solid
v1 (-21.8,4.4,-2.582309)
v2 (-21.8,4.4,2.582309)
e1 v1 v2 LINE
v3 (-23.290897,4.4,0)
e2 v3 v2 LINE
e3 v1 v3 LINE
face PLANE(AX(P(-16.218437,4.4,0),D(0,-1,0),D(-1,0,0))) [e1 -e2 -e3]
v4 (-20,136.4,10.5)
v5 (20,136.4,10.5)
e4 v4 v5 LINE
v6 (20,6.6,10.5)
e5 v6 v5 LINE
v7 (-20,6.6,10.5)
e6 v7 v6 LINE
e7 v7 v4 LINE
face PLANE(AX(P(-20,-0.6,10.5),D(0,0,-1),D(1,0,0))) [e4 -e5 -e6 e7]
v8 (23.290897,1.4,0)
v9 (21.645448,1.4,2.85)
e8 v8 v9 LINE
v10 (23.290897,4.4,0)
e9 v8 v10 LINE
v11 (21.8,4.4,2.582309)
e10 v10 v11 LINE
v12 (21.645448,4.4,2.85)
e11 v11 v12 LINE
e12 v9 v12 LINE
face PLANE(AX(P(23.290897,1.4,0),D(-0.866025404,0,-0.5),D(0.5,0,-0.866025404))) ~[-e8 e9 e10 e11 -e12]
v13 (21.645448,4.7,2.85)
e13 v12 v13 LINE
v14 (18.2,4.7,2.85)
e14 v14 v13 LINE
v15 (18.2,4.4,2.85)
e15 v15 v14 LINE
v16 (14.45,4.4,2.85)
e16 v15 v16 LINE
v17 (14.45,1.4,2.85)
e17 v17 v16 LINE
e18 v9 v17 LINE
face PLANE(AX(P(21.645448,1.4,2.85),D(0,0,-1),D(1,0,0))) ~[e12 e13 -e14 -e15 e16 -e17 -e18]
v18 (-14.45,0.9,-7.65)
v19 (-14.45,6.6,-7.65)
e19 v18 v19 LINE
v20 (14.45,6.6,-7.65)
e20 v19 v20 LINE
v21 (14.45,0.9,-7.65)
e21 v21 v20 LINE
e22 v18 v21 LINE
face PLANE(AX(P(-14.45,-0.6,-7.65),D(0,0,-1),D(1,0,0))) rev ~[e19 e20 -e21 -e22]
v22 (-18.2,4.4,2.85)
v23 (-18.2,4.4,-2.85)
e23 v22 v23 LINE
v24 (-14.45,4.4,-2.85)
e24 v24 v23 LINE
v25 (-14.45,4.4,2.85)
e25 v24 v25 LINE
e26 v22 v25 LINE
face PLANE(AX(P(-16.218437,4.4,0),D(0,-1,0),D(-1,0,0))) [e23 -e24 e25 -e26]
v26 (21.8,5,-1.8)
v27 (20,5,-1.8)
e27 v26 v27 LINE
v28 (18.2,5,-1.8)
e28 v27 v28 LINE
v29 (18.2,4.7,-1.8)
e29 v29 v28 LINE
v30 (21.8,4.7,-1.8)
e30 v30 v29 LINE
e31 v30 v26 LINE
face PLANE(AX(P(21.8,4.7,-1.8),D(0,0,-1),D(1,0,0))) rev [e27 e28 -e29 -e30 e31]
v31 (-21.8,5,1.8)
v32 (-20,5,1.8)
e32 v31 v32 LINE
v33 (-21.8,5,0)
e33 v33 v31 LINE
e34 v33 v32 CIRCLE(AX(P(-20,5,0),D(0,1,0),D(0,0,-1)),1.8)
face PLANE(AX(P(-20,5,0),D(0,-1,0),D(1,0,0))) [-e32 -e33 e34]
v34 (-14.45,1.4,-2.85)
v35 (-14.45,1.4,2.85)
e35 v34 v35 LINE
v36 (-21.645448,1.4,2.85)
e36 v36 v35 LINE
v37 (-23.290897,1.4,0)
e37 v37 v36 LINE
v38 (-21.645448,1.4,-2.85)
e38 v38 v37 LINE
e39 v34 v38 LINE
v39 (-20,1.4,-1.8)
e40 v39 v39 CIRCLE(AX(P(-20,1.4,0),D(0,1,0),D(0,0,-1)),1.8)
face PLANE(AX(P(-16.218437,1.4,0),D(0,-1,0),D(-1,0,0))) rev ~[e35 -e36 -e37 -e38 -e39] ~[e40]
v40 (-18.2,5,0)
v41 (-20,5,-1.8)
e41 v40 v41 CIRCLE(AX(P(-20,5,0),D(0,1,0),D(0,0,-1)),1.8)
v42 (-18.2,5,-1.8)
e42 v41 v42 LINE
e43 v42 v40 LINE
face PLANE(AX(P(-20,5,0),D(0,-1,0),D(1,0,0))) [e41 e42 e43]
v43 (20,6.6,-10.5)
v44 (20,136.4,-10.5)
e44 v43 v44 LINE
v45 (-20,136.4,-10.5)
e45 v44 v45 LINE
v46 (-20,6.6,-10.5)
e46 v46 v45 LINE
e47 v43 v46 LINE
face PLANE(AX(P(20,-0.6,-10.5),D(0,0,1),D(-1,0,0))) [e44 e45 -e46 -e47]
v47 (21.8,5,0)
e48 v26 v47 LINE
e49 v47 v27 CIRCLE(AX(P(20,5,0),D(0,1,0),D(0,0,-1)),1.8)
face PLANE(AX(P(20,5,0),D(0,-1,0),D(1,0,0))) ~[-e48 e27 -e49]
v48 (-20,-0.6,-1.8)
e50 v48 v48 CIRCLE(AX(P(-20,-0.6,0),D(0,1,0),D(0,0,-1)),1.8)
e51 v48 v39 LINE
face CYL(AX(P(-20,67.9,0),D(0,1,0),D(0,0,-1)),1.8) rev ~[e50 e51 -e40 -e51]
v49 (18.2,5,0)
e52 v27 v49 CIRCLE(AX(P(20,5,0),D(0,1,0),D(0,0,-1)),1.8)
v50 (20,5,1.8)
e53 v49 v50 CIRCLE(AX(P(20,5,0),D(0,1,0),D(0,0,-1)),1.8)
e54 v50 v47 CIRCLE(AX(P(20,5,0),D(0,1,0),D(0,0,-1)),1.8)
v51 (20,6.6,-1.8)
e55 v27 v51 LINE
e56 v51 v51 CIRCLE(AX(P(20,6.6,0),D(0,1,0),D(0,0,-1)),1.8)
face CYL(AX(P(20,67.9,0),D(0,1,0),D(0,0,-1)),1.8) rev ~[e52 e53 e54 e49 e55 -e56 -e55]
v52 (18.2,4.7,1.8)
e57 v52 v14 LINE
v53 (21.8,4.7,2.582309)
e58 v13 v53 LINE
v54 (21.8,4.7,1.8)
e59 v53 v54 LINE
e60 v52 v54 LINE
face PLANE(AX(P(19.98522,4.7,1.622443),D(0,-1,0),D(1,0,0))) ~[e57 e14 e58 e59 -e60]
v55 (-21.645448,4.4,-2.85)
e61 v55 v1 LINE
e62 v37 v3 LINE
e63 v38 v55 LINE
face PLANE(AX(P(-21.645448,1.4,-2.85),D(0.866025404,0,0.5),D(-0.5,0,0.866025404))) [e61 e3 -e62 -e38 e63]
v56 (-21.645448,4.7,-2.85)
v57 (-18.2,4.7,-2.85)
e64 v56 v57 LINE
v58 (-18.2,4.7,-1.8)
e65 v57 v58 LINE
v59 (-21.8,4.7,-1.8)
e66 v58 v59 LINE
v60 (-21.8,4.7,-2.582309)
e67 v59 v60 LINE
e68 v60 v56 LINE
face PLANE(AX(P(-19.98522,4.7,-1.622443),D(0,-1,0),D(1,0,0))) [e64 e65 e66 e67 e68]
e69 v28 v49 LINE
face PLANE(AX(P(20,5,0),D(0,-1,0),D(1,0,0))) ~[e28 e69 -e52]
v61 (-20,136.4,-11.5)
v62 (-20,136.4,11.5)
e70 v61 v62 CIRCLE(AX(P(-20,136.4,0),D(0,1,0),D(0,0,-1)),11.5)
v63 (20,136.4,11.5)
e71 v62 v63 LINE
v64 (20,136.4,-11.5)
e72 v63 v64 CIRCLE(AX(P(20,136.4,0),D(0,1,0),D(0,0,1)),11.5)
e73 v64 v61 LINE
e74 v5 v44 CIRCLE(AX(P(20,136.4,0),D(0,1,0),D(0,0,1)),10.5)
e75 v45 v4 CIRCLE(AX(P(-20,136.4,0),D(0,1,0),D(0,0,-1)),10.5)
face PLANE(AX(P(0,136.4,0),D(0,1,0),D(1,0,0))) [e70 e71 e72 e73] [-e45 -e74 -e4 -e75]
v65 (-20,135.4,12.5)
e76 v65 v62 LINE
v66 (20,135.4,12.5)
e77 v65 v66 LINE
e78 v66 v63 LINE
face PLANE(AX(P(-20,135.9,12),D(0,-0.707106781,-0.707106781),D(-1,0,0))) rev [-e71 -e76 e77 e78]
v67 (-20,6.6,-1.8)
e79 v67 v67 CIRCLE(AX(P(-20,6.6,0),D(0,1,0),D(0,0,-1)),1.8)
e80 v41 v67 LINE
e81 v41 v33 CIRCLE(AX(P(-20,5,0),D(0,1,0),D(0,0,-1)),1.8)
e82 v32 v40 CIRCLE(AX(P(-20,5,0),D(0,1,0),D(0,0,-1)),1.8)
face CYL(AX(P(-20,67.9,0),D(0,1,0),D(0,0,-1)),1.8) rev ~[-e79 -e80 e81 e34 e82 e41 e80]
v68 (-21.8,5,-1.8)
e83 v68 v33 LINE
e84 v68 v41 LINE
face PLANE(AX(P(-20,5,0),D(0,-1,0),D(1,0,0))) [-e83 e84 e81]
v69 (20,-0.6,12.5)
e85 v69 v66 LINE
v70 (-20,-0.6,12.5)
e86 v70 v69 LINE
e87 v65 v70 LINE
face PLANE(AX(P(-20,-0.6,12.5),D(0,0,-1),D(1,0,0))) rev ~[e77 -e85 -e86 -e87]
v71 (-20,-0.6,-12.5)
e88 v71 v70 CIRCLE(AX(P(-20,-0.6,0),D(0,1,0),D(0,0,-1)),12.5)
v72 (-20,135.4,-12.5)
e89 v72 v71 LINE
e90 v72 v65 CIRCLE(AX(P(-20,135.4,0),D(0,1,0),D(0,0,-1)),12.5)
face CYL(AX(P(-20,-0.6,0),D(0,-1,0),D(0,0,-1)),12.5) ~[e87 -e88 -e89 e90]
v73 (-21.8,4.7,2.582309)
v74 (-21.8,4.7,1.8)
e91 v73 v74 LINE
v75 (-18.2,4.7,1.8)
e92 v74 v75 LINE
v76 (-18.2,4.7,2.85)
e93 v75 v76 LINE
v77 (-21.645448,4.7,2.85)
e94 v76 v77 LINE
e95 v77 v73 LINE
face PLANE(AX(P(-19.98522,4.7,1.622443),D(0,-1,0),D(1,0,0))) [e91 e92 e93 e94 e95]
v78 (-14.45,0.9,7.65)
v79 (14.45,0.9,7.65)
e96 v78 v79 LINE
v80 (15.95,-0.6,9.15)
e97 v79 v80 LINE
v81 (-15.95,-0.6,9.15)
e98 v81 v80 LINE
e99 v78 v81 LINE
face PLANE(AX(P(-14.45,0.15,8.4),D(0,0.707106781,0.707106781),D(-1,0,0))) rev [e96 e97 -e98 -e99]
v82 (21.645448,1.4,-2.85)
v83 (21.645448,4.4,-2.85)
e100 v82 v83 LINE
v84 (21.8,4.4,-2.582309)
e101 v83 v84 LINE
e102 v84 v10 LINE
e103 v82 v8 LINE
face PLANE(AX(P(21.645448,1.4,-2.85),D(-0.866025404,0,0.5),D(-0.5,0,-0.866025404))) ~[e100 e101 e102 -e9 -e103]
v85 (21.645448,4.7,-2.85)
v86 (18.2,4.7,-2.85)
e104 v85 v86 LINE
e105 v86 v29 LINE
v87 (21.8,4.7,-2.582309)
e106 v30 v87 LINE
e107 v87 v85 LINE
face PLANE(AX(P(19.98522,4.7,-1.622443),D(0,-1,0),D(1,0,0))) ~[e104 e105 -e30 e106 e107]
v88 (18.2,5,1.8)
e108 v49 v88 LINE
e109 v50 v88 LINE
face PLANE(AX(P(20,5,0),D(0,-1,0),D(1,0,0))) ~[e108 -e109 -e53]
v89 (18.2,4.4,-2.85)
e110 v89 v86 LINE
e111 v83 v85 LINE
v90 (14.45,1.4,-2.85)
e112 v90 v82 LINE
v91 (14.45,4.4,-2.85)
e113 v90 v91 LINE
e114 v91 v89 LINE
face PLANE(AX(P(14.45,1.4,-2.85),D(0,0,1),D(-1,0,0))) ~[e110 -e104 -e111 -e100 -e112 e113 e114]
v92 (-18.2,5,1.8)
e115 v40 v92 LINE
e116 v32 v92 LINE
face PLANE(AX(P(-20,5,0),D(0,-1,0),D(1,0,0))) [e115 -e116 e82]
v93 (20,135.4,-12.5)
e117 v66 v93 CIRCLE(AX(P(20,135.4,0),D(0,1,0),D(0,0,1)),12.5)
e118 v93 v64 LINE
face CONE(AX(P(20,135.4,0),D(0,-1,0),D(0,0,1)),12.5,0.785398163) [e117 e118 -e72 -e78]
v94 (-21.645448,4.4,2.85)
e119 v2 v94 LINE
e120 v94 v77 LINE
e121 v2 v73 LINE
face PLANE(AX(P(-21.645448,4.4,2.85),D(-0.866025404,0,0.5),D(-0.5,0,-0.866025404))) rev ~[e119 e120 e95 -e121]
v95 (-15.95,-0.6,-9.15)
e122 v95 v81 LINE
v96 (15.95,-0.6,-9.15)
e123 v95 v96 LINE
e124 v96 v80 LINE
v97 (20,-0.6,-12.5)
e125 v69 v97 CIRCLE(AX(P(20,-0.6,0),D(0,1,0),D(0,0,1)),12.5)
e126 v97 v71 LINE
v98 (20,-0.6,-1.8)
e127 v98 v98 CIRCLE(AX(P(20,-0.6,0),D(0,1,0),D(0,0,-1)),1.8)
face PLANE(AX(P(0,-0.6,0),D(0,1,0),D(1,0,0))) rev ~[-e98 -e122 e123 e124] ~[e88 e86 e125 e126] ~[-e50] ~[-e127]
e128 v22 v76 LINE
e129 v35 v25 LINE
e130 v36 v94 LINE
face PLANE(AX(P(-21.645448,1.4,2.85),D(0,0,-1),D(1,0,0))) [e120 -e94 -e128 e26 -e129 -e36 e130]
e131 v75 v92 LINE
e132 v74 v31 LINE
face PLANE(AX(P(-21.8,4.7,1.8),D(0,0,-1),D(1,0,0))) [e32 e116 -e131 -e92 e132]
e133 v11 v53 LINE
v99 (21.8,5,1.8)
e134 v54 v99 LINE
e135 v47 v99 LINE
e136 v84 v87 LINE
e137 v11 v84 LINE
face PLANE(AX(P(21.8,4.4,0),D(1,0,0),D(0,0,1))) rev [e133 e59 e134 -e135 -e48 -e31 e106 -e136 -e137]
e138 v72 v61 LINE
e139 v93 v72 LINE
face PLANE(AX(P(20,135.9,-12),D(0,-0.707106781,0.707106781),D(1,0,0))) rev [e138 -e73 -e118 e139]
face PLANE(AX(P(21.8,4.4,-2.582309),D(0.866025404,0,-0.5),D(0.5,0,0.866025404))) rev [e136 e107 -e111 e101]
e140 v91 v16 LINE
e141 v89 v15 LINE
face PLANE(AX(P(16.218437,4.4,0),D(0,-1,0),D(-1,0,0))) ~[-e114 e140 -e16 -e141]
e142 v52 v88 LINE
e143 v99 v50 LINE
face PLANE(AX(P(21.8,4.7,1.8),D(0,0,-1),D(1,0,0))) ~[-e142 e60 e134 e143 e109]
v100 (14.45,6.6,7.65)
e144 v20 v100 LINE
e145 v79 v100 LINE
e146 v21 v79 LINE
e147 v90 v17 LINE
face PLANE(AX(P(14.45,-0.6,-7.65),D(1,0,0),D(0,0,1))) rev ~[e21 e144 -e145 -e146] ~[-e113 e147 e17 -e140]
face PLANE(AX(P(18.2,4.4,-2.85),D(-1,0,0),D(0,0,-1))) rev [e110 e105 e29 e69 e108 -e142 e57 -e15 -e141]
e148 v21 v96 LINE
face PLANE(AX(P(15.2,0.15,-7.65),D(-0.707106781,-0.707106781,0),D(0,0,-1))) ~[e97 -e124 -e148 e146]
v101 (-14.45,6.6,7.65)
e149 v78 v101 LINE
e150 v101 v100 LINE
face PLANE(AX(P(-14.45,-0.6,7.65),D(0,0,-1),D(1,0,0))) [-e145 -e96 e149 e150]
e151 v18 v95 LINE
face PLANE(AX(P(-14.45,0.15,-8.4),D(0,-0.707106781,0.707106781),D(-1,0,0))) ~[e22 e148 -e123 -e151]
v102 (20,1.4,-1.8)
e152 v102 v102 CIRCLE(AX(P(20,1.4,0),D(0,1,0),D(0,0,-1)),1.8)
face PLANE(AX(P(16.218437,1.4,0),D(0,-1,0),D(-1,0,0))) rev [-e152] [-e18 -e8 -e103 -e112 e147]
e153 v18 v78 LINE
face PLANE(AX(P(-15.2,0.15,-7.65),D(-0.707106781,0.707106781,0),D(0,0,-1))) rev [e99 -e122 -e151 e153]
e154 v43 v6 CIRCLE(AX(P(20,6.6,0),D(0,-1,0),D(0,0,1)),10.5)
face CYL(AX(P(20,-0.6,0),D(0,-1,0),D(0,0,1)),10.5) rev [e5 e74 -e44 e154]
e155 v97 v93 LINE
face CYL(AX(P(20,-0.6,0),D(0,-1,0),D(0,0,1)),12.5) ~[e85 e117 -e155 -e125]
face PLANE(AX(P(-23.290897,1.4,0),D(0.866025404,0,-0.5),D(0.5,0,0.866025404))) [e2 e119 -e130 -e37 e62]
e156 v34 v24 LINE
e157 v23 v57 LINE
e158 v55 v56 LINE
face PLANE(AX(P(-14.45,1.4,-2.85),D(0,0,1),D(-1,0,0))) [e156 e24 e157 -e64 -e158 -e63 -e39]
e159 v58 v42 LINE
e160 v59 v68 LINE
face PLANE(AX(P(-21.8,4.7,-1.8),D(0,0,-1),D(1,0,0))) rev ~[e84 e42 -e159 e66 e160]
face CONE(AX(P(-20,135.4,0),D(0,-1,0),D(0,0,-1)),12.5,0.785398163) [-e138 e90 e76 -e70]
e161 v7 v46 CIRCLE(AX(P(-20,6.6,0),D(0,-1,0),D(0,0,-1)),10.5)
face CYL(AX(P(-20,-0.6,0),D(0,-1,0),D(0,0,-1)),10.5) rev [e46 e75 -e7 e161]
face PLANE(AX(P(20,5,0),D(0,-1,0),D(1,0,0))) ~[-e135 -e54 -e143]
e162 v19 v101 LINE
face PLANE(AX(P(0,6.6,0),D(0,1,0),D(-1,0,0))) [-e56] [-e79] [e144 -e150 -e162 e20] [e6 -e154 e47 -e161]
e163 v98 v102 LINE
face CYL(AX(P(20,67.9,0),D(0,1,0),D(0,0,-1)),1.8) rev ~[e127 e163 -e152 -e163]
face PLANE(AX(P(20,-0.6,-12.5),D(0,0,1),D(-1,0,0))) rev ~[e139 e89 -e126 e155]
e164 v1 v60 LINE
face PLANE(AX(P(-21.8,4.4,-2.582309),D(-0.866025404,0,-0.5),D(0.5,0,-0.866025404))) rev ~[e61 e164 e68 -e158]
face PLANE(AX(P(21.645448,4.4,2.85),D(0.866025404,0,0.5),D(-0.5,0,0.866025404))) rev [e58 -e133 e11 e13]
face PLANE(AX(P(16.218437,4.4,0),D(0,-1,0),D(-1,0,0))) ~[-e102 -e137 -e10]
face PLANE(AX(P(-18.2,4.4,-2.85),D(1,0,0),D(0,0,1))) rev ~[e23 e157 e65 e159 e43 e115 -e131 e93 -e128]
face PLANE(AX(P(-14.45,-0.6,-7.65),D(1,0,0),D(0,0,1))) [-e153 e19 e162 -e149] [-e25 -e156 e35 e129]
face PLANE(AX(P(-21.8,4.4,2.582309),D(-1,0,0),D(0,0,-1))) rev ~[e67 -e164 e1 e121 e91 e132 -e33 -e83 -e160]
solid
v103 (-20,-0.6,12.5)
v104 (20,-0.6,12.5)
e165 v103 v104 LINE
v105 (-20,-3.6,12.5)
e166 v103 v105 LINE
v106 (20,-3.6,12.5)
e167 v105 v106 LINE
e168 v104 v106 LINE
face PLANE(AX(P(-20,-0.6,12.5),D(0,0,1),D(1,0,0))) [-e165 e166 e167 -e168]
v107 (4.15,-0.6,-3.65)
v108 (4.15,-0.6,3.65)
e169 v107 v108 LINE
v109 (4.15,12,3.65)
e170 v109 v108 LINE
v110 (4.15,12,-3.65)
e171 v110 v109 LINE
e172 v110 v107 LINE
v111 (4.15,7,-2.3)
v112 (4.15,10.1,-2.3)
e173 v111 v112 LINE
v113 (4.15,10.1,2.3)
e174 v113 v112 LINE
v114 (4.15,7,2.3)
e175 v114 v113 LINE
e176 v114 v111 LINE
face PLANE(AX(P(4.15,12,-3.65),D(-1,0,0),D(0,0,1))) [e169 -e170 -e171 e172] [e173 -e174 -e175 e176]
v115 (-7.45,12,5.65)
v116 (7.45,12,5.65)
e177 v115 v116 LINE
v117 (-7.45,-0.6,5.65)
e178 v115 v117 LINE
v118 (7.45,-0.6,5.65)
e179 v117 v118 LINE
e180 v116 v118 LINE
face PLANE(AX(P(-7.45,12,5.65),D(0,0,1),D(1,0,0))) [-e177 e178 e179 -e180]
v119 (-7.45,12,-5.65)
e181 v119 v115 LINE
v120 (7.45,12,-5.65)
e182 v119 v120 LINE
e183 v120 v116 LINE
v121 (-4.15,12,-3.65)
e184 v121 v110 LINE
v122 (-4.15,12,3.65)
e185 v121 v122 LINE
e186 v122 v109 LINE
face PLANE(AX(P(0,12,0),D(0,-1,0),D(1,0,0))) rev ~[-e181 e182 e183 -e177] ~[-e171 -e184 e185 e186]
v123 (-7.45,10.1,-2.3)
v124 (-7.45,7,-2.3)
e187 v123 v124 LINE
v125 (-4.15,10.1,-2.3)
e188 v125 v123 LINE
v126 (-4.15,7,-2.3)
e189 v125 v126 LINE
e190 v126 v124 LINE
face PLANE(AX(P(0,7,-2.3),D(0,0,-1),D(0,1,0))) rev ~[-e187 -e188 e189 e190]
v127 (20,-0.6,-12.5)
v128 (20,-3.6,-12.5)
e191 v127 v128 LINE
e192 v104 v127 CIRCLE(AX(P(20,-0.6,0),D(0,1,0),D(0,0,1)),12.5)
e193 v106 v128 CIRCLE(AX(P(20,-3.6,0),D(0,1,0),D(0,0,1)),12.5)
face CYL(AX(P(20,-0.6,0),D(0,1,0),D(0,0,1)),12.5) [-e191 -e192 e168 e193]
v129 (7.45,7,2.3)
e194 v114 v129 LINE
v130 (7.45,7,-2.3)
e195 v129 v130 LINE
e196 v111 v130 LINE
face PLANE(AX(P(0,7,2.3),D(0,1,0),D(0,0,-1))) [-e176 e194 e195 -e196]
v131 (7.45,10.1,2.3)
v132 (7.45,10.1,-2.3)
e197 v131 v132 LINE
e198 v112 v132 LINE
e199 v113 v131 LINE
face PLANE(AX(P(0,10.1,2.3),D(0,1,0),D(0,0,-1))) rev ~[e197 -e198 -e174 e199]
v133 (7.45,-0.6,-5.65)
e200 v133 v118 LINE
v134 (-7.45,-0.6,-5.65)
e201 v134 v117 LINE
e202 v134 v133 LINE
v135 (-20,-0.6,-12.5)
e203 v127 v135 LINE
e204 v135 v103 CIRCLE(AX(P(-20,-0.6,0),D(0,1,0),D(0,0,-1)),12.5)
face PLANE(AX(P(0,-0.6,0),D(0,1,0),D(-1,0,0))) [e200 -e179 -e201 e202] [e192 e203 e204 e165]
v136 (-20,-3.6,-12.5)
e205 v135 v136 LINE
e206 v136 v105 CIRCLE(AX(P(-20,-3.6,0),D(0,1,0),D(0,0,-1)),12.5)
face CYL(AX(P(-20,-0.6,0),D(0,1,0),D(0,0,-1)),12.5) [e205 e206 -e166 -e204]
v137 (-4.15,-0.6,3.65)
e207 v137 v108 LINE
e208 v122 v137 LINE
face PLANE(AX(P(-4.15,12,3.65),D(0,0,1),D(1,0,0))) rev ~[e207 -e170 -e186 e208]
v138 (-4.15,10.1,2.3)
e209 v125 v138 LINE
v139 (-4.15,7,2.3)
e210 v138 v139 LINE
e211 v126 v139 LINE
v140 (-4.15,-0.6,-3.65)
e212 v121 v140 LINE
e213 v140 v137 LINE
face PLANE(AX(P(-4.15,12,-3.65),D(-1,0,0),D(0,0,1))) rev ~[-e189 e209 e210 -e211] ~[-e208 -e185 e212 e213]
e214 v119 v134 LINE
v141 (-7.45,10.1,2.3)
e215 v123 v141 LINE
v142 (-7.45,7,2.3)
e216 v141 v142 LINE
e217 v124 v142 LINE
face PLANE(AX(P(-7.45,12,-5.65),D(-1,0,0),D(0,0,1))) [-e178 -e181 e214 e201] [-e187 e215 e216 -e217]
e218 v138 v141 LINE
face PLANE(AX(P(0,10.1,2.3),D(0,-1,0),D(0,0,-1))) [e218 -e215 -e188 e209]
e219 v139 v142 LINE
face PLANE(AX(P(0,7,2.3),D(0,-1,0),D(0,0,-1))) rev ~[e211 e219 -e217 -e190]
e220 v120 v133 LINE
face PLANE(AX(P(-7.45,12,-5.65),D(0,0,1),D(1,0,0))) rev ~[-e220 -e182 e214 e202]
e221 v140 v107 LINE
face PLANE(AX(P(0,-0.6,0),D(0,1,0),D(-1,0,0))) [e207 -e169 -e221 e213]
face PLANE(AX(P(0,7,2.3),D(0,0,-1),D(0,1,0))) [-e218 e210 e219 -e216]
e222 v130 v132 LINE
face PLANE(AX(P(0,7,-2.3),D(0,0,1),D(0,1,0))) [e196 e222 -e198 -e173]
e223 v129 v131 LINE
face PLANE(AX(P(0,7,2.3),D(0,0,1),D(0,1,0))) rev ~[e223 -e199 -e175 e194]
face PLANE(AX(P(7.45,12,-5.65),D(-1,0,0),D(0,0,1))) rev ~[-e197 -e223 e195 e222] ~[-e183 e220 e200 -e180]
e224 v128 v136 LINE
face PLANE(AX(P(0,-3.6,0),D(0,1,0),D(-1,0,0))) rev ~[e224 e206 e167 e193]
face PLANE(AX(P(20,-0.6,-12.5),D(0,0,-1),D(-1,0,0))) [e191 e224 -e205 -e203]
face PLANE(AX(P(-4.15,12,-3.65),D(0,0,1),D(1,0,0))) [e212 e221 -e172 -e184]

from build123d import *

# Parameters (mm, degrees)
SKETCH2_W                     = 14.9
SKETCH2_H                     = 11.3
SKETCH2_W_2                   = 8.3
SKETCH2_H_2                   = 7.3
BOSS_EXTRUDE1_DEPTH           = 12.6
SKETCH4_W                     = 4.6
SKETCH4_H                     = 3.1
CUT_EXTRUDE1_DEPTH            = 8.45
CUT_EXTRUDE1_DEPTH_BACK       = 8.45
BOSS_EXTRUDE2_DEPTH           = 3
BOSS_EXTRUDE3_DEPTH           = 137
SKETCH8_W                     = 28.9
SKETCH8_H                     = 15.3
BOSS_EXTRUDE4_DEPTH           = 7.2
SKETCH11_W                    = 1.8
SKETCH11_H                    = 137
M3_CLEARANCE_HOLE1_AT_2_COUNT = 2
M3_CLEARANCE_HOLE1_AT_2_PITCH = 40
CUT_EXTRUDE2_DEPTH            = 3
CUT_EXTRUDE3_DEPTH            = 0.3
SKETCH15_W                    = 3.6
SKETCH15_H                    = 3.6
CUT_EXTRUDE4_DEPTH            = 0.3
CHAMFER1_SIZE                 = 1
CHAMFER2_SIZE                 = 1.5


with BuildPart() as part:
    # Sketch2 → Boss-Extrude1 (new body)
    with BuildSketch(Plane.XZ.offset(-12)):
        Rectangle(SKETCH2_W, SKETCH2_H)
        Rectangle(SKETCH2_W_2, SKETCH2_H_2, mode=Mode.SUBTRACT)
    extrude(amount=BOSS_EXTRUDE1_DEPTH)

    # Sketch4 → Cut-Extrude1 (cut, two sides)
    with BuildSketch(Plane(origin=(0, 0, 0), x_dir=(0, 0, -1), z_dir=(1, 0, 0))) as cut_extrude1_sk:
        with Locations((0, 8.55)):
            Rectangle(SKETCH4_W, SKETCH4_H)
    extrude(amount=CUT_EXTRUDE1_DEPTH, mode=Mode.SUBTRACT)
    extrude(cut_extrude1_sk.sketch, amount=-CUT_EXTRUDE1_DEPTH_BACK, mode=Mode.SUBTRACT)

    # Sketch5 → Boss-Extrude2 (add)
    with BuildSketch(Plane.XZ.offset(0.6)):
        with BuildLine():
            Line((-20, 12.5), (20, 12.5))
            ThreePointArc((20, 12.5), (32.5, 0), (20, -12.5))
            Line((20, -12.5), (-20, -12.5))
            ThreePointArc((-20, -12.5), (-32.5, 0), (-20, 12.5))
        make_face()
    extrude(amount=BOSS_EXTRUDE2_DEPTH)


with BuildPart() as body_2:
    # Sketch7 → Boss-Extrude3 (new body)
    with BuildSketch(Plane(origin=(0, -0.6, 0), x_dir=(1, 0, 0), z_dir=(0, 1, 0))):
        with BuildLine():
            Line((-20, -12.5), (20, -12.5))
            ThreePointArc((20, -12.5), (32.5, 0), (20, 12.5))
            Line((20, 12.5), (-20, 12.5))
            ThreePointArc((-20, 12.5), (-32.5, 0), (-20, -12.5))
        make_face()
        with BuildLine():
            Line((-20, -10.5), (20, -10.5))
            ThreePointArc((20, -10.5), (30.5, 0), (20, 10.5))
            Line((20, 10.5), (-20, 10.5))
            ThreePointArc((-20, 10.5), (-30.5, 0), (-20, -10.5))
        make_face(mode=Mode.SUBTRACT)
    extrude(amount=BOSS_EXTRUDE3_DEPTH)

    # Sketch8 → Boss-Extrude4 (add)
    with BuildSketch(Plane.XZ.offset(0.6)):
        with BuildLine():
            Line((20, -12.5), (-20, -12.5))
            ThreePointArc((-20, -12.5), (-32.5, 0), (-20, 12.5))
            Line((-20, 12.5), (20, 12.5))
            ThreePointArc((20, 12.5), (32.5, 0), (20, -12.5))
        make_face()
        Rectangle(SKETCH8_W, SKETCH8_H, mode=Mode.SUBTRACT)
    extrude(amount=-BOSS_EXTRUDE4_DEPTH)

    # Sketch11 → M3 Clearance Hole1 (revolve, cut)
    with BuildSketch(Plane(origin=(-20, -0.6, 0), x_dir=(0, 0, -1), z_dir=(1, 0, 0))):
        with Locations((0.9, 68.5)):
            Rectangle(SKETCH11_W, SKETCH11_H)
    m3_clearance_hole1 = revolve(axis=Axis((-20, -6.95, 0), (0, 1, 0)), mode=Mode.SUBTRACT)

    # M3 Clearance Hole1 at 2: M3 Clearance Hole1 ×2
    with Locations(*[(i * M3_CLEARANCE_HOLE1_AT_2_PITCH, 0, 0) for i in range(1, M3_CLEARANCE_HOLE1_AT_2_COUNT)]):
        add(m3_clearance_hole1, mode=Mode.SUBTRACT)

    # Sketch13 → Cut-Extrude2 (cut)
    with BuildSketch(Plane(origin=(0, 1.4, 0), x_dir=(1, 0, 0), z_dir=(0, 1, 0))):
        Polygon((-14.45, -2.85), (-18.354551733, -2.85), (-16.709103466, 0), (-18.354551733, 2.85), (-14.45, 2.85), align=None)
        Polygon((-18.354551733, -2.85), (-16.709103466, 0), (-18.354551733, 2.85), (-21.645448267, 2.85), (-23.290896534, 0), (-21.645448267, -2.85), align=None)
    cut_extrude2 = extrude(amount=CUT_EXTRUDE2_DEPTH, mode=Mode.SUBTRACT)

    # Sketch14 → Cut-Extrude3 (cut)
    with BuildSketch(Plane.XZ.offset(-4.4)):
        with BuildLine():
            ThreePointArc((-18.2, 0), (-20.00000001, -1.8), (-21.8, 2e-08))
            Line((-21.8, 2e-08), (-21.8, -2.582308546))
            Line((-21.8, -2.582308546), (-21.645448267, -2.85))
            Line((-21.645448267, -2.85), (-18.2, -2.85))
            Line((-18.2, -2.85), (-18.2, 0))
        make_face()
        with BuildLine():
            Line((-18.2, 2.85), (-21.645448267, 2.85))
            Line((-21.645448267, 2.85), (-21.8, 2.582308546))
            Line((-21.8, 2.582308546), (-21.8, 2e-08))
            ThreePointArc((-21.8, 2e-08), (-19.99999999, 1.8), (-18.2, 0))
            Line((-18.2, 0), (-18.2, 2.85))
        make_face()
    cut_extrude3 = extrude(amount=-CUT_EXTRUDE3_DEPTH, mode=Mode.SUBTRACT)

    # Sketch15 → Cut-Extrude4 (cut)
    with BuildSketch(Plane.XZ.offset(-4.7)):
        with Locations((-20, 0)):
            Rectangle(SKETCH15_W, SKETCH15_H)
    cut_extrude4 = extrude(amount=-CUT_EXTRUDE4_DEPTH, mode=Mode.SUBTRACT)

    # Chamfer1
    chamfer1_edges = [body_2.edges().sort_by_distance(p)[0] for p in [
        (32.5, 136.4, 0),
        (0, 136.4, -12.5),
        (-32.5, 136.4, 0),
        (0, 136.4, 12.5),
    ]]
    chamfer(chamfer1_edges, length=CHAMFER1_SIZE)

    # Mirror1: Cut-Extrude2, Cut-Extrude3, Cut-Extrude4 across plane
    add(cut_extrude2.mirror(Plane(origin=(0, 0, 0), x_dir=(0, 0, 1), z_dir=(1, 0, 0))), mode=Mode.SUBTRACT)
    add(cut_extrude3.mirror(Plane(origin=(0, 0, 0), x_dir=(0, 0, 1), z_dir=(1, 0, 0))), mode=Mode.SUBTRACT)
    add(cut_extrude4.mirror(Plane(origin=(0, 0, 0), x_dir=(0, 0, 1), z_dir=(1, 0, 0))), mode=Mode.SUBTRACT)

    # Chamfer2
    chamfer2_edges = [body_2.edges().sort_by_distance(p)[0] for p in [
        (-14.45, -0.6, 0),
        (0, -0.6, 7.65),
        (14.45, -0.6, 0),
        (0, -0.6, -7.65),
    ]]
    chamfer(chamfer2_edges, length=CHAMFER2_SIZE)


solid = Compound([part.part, body_2.part])
